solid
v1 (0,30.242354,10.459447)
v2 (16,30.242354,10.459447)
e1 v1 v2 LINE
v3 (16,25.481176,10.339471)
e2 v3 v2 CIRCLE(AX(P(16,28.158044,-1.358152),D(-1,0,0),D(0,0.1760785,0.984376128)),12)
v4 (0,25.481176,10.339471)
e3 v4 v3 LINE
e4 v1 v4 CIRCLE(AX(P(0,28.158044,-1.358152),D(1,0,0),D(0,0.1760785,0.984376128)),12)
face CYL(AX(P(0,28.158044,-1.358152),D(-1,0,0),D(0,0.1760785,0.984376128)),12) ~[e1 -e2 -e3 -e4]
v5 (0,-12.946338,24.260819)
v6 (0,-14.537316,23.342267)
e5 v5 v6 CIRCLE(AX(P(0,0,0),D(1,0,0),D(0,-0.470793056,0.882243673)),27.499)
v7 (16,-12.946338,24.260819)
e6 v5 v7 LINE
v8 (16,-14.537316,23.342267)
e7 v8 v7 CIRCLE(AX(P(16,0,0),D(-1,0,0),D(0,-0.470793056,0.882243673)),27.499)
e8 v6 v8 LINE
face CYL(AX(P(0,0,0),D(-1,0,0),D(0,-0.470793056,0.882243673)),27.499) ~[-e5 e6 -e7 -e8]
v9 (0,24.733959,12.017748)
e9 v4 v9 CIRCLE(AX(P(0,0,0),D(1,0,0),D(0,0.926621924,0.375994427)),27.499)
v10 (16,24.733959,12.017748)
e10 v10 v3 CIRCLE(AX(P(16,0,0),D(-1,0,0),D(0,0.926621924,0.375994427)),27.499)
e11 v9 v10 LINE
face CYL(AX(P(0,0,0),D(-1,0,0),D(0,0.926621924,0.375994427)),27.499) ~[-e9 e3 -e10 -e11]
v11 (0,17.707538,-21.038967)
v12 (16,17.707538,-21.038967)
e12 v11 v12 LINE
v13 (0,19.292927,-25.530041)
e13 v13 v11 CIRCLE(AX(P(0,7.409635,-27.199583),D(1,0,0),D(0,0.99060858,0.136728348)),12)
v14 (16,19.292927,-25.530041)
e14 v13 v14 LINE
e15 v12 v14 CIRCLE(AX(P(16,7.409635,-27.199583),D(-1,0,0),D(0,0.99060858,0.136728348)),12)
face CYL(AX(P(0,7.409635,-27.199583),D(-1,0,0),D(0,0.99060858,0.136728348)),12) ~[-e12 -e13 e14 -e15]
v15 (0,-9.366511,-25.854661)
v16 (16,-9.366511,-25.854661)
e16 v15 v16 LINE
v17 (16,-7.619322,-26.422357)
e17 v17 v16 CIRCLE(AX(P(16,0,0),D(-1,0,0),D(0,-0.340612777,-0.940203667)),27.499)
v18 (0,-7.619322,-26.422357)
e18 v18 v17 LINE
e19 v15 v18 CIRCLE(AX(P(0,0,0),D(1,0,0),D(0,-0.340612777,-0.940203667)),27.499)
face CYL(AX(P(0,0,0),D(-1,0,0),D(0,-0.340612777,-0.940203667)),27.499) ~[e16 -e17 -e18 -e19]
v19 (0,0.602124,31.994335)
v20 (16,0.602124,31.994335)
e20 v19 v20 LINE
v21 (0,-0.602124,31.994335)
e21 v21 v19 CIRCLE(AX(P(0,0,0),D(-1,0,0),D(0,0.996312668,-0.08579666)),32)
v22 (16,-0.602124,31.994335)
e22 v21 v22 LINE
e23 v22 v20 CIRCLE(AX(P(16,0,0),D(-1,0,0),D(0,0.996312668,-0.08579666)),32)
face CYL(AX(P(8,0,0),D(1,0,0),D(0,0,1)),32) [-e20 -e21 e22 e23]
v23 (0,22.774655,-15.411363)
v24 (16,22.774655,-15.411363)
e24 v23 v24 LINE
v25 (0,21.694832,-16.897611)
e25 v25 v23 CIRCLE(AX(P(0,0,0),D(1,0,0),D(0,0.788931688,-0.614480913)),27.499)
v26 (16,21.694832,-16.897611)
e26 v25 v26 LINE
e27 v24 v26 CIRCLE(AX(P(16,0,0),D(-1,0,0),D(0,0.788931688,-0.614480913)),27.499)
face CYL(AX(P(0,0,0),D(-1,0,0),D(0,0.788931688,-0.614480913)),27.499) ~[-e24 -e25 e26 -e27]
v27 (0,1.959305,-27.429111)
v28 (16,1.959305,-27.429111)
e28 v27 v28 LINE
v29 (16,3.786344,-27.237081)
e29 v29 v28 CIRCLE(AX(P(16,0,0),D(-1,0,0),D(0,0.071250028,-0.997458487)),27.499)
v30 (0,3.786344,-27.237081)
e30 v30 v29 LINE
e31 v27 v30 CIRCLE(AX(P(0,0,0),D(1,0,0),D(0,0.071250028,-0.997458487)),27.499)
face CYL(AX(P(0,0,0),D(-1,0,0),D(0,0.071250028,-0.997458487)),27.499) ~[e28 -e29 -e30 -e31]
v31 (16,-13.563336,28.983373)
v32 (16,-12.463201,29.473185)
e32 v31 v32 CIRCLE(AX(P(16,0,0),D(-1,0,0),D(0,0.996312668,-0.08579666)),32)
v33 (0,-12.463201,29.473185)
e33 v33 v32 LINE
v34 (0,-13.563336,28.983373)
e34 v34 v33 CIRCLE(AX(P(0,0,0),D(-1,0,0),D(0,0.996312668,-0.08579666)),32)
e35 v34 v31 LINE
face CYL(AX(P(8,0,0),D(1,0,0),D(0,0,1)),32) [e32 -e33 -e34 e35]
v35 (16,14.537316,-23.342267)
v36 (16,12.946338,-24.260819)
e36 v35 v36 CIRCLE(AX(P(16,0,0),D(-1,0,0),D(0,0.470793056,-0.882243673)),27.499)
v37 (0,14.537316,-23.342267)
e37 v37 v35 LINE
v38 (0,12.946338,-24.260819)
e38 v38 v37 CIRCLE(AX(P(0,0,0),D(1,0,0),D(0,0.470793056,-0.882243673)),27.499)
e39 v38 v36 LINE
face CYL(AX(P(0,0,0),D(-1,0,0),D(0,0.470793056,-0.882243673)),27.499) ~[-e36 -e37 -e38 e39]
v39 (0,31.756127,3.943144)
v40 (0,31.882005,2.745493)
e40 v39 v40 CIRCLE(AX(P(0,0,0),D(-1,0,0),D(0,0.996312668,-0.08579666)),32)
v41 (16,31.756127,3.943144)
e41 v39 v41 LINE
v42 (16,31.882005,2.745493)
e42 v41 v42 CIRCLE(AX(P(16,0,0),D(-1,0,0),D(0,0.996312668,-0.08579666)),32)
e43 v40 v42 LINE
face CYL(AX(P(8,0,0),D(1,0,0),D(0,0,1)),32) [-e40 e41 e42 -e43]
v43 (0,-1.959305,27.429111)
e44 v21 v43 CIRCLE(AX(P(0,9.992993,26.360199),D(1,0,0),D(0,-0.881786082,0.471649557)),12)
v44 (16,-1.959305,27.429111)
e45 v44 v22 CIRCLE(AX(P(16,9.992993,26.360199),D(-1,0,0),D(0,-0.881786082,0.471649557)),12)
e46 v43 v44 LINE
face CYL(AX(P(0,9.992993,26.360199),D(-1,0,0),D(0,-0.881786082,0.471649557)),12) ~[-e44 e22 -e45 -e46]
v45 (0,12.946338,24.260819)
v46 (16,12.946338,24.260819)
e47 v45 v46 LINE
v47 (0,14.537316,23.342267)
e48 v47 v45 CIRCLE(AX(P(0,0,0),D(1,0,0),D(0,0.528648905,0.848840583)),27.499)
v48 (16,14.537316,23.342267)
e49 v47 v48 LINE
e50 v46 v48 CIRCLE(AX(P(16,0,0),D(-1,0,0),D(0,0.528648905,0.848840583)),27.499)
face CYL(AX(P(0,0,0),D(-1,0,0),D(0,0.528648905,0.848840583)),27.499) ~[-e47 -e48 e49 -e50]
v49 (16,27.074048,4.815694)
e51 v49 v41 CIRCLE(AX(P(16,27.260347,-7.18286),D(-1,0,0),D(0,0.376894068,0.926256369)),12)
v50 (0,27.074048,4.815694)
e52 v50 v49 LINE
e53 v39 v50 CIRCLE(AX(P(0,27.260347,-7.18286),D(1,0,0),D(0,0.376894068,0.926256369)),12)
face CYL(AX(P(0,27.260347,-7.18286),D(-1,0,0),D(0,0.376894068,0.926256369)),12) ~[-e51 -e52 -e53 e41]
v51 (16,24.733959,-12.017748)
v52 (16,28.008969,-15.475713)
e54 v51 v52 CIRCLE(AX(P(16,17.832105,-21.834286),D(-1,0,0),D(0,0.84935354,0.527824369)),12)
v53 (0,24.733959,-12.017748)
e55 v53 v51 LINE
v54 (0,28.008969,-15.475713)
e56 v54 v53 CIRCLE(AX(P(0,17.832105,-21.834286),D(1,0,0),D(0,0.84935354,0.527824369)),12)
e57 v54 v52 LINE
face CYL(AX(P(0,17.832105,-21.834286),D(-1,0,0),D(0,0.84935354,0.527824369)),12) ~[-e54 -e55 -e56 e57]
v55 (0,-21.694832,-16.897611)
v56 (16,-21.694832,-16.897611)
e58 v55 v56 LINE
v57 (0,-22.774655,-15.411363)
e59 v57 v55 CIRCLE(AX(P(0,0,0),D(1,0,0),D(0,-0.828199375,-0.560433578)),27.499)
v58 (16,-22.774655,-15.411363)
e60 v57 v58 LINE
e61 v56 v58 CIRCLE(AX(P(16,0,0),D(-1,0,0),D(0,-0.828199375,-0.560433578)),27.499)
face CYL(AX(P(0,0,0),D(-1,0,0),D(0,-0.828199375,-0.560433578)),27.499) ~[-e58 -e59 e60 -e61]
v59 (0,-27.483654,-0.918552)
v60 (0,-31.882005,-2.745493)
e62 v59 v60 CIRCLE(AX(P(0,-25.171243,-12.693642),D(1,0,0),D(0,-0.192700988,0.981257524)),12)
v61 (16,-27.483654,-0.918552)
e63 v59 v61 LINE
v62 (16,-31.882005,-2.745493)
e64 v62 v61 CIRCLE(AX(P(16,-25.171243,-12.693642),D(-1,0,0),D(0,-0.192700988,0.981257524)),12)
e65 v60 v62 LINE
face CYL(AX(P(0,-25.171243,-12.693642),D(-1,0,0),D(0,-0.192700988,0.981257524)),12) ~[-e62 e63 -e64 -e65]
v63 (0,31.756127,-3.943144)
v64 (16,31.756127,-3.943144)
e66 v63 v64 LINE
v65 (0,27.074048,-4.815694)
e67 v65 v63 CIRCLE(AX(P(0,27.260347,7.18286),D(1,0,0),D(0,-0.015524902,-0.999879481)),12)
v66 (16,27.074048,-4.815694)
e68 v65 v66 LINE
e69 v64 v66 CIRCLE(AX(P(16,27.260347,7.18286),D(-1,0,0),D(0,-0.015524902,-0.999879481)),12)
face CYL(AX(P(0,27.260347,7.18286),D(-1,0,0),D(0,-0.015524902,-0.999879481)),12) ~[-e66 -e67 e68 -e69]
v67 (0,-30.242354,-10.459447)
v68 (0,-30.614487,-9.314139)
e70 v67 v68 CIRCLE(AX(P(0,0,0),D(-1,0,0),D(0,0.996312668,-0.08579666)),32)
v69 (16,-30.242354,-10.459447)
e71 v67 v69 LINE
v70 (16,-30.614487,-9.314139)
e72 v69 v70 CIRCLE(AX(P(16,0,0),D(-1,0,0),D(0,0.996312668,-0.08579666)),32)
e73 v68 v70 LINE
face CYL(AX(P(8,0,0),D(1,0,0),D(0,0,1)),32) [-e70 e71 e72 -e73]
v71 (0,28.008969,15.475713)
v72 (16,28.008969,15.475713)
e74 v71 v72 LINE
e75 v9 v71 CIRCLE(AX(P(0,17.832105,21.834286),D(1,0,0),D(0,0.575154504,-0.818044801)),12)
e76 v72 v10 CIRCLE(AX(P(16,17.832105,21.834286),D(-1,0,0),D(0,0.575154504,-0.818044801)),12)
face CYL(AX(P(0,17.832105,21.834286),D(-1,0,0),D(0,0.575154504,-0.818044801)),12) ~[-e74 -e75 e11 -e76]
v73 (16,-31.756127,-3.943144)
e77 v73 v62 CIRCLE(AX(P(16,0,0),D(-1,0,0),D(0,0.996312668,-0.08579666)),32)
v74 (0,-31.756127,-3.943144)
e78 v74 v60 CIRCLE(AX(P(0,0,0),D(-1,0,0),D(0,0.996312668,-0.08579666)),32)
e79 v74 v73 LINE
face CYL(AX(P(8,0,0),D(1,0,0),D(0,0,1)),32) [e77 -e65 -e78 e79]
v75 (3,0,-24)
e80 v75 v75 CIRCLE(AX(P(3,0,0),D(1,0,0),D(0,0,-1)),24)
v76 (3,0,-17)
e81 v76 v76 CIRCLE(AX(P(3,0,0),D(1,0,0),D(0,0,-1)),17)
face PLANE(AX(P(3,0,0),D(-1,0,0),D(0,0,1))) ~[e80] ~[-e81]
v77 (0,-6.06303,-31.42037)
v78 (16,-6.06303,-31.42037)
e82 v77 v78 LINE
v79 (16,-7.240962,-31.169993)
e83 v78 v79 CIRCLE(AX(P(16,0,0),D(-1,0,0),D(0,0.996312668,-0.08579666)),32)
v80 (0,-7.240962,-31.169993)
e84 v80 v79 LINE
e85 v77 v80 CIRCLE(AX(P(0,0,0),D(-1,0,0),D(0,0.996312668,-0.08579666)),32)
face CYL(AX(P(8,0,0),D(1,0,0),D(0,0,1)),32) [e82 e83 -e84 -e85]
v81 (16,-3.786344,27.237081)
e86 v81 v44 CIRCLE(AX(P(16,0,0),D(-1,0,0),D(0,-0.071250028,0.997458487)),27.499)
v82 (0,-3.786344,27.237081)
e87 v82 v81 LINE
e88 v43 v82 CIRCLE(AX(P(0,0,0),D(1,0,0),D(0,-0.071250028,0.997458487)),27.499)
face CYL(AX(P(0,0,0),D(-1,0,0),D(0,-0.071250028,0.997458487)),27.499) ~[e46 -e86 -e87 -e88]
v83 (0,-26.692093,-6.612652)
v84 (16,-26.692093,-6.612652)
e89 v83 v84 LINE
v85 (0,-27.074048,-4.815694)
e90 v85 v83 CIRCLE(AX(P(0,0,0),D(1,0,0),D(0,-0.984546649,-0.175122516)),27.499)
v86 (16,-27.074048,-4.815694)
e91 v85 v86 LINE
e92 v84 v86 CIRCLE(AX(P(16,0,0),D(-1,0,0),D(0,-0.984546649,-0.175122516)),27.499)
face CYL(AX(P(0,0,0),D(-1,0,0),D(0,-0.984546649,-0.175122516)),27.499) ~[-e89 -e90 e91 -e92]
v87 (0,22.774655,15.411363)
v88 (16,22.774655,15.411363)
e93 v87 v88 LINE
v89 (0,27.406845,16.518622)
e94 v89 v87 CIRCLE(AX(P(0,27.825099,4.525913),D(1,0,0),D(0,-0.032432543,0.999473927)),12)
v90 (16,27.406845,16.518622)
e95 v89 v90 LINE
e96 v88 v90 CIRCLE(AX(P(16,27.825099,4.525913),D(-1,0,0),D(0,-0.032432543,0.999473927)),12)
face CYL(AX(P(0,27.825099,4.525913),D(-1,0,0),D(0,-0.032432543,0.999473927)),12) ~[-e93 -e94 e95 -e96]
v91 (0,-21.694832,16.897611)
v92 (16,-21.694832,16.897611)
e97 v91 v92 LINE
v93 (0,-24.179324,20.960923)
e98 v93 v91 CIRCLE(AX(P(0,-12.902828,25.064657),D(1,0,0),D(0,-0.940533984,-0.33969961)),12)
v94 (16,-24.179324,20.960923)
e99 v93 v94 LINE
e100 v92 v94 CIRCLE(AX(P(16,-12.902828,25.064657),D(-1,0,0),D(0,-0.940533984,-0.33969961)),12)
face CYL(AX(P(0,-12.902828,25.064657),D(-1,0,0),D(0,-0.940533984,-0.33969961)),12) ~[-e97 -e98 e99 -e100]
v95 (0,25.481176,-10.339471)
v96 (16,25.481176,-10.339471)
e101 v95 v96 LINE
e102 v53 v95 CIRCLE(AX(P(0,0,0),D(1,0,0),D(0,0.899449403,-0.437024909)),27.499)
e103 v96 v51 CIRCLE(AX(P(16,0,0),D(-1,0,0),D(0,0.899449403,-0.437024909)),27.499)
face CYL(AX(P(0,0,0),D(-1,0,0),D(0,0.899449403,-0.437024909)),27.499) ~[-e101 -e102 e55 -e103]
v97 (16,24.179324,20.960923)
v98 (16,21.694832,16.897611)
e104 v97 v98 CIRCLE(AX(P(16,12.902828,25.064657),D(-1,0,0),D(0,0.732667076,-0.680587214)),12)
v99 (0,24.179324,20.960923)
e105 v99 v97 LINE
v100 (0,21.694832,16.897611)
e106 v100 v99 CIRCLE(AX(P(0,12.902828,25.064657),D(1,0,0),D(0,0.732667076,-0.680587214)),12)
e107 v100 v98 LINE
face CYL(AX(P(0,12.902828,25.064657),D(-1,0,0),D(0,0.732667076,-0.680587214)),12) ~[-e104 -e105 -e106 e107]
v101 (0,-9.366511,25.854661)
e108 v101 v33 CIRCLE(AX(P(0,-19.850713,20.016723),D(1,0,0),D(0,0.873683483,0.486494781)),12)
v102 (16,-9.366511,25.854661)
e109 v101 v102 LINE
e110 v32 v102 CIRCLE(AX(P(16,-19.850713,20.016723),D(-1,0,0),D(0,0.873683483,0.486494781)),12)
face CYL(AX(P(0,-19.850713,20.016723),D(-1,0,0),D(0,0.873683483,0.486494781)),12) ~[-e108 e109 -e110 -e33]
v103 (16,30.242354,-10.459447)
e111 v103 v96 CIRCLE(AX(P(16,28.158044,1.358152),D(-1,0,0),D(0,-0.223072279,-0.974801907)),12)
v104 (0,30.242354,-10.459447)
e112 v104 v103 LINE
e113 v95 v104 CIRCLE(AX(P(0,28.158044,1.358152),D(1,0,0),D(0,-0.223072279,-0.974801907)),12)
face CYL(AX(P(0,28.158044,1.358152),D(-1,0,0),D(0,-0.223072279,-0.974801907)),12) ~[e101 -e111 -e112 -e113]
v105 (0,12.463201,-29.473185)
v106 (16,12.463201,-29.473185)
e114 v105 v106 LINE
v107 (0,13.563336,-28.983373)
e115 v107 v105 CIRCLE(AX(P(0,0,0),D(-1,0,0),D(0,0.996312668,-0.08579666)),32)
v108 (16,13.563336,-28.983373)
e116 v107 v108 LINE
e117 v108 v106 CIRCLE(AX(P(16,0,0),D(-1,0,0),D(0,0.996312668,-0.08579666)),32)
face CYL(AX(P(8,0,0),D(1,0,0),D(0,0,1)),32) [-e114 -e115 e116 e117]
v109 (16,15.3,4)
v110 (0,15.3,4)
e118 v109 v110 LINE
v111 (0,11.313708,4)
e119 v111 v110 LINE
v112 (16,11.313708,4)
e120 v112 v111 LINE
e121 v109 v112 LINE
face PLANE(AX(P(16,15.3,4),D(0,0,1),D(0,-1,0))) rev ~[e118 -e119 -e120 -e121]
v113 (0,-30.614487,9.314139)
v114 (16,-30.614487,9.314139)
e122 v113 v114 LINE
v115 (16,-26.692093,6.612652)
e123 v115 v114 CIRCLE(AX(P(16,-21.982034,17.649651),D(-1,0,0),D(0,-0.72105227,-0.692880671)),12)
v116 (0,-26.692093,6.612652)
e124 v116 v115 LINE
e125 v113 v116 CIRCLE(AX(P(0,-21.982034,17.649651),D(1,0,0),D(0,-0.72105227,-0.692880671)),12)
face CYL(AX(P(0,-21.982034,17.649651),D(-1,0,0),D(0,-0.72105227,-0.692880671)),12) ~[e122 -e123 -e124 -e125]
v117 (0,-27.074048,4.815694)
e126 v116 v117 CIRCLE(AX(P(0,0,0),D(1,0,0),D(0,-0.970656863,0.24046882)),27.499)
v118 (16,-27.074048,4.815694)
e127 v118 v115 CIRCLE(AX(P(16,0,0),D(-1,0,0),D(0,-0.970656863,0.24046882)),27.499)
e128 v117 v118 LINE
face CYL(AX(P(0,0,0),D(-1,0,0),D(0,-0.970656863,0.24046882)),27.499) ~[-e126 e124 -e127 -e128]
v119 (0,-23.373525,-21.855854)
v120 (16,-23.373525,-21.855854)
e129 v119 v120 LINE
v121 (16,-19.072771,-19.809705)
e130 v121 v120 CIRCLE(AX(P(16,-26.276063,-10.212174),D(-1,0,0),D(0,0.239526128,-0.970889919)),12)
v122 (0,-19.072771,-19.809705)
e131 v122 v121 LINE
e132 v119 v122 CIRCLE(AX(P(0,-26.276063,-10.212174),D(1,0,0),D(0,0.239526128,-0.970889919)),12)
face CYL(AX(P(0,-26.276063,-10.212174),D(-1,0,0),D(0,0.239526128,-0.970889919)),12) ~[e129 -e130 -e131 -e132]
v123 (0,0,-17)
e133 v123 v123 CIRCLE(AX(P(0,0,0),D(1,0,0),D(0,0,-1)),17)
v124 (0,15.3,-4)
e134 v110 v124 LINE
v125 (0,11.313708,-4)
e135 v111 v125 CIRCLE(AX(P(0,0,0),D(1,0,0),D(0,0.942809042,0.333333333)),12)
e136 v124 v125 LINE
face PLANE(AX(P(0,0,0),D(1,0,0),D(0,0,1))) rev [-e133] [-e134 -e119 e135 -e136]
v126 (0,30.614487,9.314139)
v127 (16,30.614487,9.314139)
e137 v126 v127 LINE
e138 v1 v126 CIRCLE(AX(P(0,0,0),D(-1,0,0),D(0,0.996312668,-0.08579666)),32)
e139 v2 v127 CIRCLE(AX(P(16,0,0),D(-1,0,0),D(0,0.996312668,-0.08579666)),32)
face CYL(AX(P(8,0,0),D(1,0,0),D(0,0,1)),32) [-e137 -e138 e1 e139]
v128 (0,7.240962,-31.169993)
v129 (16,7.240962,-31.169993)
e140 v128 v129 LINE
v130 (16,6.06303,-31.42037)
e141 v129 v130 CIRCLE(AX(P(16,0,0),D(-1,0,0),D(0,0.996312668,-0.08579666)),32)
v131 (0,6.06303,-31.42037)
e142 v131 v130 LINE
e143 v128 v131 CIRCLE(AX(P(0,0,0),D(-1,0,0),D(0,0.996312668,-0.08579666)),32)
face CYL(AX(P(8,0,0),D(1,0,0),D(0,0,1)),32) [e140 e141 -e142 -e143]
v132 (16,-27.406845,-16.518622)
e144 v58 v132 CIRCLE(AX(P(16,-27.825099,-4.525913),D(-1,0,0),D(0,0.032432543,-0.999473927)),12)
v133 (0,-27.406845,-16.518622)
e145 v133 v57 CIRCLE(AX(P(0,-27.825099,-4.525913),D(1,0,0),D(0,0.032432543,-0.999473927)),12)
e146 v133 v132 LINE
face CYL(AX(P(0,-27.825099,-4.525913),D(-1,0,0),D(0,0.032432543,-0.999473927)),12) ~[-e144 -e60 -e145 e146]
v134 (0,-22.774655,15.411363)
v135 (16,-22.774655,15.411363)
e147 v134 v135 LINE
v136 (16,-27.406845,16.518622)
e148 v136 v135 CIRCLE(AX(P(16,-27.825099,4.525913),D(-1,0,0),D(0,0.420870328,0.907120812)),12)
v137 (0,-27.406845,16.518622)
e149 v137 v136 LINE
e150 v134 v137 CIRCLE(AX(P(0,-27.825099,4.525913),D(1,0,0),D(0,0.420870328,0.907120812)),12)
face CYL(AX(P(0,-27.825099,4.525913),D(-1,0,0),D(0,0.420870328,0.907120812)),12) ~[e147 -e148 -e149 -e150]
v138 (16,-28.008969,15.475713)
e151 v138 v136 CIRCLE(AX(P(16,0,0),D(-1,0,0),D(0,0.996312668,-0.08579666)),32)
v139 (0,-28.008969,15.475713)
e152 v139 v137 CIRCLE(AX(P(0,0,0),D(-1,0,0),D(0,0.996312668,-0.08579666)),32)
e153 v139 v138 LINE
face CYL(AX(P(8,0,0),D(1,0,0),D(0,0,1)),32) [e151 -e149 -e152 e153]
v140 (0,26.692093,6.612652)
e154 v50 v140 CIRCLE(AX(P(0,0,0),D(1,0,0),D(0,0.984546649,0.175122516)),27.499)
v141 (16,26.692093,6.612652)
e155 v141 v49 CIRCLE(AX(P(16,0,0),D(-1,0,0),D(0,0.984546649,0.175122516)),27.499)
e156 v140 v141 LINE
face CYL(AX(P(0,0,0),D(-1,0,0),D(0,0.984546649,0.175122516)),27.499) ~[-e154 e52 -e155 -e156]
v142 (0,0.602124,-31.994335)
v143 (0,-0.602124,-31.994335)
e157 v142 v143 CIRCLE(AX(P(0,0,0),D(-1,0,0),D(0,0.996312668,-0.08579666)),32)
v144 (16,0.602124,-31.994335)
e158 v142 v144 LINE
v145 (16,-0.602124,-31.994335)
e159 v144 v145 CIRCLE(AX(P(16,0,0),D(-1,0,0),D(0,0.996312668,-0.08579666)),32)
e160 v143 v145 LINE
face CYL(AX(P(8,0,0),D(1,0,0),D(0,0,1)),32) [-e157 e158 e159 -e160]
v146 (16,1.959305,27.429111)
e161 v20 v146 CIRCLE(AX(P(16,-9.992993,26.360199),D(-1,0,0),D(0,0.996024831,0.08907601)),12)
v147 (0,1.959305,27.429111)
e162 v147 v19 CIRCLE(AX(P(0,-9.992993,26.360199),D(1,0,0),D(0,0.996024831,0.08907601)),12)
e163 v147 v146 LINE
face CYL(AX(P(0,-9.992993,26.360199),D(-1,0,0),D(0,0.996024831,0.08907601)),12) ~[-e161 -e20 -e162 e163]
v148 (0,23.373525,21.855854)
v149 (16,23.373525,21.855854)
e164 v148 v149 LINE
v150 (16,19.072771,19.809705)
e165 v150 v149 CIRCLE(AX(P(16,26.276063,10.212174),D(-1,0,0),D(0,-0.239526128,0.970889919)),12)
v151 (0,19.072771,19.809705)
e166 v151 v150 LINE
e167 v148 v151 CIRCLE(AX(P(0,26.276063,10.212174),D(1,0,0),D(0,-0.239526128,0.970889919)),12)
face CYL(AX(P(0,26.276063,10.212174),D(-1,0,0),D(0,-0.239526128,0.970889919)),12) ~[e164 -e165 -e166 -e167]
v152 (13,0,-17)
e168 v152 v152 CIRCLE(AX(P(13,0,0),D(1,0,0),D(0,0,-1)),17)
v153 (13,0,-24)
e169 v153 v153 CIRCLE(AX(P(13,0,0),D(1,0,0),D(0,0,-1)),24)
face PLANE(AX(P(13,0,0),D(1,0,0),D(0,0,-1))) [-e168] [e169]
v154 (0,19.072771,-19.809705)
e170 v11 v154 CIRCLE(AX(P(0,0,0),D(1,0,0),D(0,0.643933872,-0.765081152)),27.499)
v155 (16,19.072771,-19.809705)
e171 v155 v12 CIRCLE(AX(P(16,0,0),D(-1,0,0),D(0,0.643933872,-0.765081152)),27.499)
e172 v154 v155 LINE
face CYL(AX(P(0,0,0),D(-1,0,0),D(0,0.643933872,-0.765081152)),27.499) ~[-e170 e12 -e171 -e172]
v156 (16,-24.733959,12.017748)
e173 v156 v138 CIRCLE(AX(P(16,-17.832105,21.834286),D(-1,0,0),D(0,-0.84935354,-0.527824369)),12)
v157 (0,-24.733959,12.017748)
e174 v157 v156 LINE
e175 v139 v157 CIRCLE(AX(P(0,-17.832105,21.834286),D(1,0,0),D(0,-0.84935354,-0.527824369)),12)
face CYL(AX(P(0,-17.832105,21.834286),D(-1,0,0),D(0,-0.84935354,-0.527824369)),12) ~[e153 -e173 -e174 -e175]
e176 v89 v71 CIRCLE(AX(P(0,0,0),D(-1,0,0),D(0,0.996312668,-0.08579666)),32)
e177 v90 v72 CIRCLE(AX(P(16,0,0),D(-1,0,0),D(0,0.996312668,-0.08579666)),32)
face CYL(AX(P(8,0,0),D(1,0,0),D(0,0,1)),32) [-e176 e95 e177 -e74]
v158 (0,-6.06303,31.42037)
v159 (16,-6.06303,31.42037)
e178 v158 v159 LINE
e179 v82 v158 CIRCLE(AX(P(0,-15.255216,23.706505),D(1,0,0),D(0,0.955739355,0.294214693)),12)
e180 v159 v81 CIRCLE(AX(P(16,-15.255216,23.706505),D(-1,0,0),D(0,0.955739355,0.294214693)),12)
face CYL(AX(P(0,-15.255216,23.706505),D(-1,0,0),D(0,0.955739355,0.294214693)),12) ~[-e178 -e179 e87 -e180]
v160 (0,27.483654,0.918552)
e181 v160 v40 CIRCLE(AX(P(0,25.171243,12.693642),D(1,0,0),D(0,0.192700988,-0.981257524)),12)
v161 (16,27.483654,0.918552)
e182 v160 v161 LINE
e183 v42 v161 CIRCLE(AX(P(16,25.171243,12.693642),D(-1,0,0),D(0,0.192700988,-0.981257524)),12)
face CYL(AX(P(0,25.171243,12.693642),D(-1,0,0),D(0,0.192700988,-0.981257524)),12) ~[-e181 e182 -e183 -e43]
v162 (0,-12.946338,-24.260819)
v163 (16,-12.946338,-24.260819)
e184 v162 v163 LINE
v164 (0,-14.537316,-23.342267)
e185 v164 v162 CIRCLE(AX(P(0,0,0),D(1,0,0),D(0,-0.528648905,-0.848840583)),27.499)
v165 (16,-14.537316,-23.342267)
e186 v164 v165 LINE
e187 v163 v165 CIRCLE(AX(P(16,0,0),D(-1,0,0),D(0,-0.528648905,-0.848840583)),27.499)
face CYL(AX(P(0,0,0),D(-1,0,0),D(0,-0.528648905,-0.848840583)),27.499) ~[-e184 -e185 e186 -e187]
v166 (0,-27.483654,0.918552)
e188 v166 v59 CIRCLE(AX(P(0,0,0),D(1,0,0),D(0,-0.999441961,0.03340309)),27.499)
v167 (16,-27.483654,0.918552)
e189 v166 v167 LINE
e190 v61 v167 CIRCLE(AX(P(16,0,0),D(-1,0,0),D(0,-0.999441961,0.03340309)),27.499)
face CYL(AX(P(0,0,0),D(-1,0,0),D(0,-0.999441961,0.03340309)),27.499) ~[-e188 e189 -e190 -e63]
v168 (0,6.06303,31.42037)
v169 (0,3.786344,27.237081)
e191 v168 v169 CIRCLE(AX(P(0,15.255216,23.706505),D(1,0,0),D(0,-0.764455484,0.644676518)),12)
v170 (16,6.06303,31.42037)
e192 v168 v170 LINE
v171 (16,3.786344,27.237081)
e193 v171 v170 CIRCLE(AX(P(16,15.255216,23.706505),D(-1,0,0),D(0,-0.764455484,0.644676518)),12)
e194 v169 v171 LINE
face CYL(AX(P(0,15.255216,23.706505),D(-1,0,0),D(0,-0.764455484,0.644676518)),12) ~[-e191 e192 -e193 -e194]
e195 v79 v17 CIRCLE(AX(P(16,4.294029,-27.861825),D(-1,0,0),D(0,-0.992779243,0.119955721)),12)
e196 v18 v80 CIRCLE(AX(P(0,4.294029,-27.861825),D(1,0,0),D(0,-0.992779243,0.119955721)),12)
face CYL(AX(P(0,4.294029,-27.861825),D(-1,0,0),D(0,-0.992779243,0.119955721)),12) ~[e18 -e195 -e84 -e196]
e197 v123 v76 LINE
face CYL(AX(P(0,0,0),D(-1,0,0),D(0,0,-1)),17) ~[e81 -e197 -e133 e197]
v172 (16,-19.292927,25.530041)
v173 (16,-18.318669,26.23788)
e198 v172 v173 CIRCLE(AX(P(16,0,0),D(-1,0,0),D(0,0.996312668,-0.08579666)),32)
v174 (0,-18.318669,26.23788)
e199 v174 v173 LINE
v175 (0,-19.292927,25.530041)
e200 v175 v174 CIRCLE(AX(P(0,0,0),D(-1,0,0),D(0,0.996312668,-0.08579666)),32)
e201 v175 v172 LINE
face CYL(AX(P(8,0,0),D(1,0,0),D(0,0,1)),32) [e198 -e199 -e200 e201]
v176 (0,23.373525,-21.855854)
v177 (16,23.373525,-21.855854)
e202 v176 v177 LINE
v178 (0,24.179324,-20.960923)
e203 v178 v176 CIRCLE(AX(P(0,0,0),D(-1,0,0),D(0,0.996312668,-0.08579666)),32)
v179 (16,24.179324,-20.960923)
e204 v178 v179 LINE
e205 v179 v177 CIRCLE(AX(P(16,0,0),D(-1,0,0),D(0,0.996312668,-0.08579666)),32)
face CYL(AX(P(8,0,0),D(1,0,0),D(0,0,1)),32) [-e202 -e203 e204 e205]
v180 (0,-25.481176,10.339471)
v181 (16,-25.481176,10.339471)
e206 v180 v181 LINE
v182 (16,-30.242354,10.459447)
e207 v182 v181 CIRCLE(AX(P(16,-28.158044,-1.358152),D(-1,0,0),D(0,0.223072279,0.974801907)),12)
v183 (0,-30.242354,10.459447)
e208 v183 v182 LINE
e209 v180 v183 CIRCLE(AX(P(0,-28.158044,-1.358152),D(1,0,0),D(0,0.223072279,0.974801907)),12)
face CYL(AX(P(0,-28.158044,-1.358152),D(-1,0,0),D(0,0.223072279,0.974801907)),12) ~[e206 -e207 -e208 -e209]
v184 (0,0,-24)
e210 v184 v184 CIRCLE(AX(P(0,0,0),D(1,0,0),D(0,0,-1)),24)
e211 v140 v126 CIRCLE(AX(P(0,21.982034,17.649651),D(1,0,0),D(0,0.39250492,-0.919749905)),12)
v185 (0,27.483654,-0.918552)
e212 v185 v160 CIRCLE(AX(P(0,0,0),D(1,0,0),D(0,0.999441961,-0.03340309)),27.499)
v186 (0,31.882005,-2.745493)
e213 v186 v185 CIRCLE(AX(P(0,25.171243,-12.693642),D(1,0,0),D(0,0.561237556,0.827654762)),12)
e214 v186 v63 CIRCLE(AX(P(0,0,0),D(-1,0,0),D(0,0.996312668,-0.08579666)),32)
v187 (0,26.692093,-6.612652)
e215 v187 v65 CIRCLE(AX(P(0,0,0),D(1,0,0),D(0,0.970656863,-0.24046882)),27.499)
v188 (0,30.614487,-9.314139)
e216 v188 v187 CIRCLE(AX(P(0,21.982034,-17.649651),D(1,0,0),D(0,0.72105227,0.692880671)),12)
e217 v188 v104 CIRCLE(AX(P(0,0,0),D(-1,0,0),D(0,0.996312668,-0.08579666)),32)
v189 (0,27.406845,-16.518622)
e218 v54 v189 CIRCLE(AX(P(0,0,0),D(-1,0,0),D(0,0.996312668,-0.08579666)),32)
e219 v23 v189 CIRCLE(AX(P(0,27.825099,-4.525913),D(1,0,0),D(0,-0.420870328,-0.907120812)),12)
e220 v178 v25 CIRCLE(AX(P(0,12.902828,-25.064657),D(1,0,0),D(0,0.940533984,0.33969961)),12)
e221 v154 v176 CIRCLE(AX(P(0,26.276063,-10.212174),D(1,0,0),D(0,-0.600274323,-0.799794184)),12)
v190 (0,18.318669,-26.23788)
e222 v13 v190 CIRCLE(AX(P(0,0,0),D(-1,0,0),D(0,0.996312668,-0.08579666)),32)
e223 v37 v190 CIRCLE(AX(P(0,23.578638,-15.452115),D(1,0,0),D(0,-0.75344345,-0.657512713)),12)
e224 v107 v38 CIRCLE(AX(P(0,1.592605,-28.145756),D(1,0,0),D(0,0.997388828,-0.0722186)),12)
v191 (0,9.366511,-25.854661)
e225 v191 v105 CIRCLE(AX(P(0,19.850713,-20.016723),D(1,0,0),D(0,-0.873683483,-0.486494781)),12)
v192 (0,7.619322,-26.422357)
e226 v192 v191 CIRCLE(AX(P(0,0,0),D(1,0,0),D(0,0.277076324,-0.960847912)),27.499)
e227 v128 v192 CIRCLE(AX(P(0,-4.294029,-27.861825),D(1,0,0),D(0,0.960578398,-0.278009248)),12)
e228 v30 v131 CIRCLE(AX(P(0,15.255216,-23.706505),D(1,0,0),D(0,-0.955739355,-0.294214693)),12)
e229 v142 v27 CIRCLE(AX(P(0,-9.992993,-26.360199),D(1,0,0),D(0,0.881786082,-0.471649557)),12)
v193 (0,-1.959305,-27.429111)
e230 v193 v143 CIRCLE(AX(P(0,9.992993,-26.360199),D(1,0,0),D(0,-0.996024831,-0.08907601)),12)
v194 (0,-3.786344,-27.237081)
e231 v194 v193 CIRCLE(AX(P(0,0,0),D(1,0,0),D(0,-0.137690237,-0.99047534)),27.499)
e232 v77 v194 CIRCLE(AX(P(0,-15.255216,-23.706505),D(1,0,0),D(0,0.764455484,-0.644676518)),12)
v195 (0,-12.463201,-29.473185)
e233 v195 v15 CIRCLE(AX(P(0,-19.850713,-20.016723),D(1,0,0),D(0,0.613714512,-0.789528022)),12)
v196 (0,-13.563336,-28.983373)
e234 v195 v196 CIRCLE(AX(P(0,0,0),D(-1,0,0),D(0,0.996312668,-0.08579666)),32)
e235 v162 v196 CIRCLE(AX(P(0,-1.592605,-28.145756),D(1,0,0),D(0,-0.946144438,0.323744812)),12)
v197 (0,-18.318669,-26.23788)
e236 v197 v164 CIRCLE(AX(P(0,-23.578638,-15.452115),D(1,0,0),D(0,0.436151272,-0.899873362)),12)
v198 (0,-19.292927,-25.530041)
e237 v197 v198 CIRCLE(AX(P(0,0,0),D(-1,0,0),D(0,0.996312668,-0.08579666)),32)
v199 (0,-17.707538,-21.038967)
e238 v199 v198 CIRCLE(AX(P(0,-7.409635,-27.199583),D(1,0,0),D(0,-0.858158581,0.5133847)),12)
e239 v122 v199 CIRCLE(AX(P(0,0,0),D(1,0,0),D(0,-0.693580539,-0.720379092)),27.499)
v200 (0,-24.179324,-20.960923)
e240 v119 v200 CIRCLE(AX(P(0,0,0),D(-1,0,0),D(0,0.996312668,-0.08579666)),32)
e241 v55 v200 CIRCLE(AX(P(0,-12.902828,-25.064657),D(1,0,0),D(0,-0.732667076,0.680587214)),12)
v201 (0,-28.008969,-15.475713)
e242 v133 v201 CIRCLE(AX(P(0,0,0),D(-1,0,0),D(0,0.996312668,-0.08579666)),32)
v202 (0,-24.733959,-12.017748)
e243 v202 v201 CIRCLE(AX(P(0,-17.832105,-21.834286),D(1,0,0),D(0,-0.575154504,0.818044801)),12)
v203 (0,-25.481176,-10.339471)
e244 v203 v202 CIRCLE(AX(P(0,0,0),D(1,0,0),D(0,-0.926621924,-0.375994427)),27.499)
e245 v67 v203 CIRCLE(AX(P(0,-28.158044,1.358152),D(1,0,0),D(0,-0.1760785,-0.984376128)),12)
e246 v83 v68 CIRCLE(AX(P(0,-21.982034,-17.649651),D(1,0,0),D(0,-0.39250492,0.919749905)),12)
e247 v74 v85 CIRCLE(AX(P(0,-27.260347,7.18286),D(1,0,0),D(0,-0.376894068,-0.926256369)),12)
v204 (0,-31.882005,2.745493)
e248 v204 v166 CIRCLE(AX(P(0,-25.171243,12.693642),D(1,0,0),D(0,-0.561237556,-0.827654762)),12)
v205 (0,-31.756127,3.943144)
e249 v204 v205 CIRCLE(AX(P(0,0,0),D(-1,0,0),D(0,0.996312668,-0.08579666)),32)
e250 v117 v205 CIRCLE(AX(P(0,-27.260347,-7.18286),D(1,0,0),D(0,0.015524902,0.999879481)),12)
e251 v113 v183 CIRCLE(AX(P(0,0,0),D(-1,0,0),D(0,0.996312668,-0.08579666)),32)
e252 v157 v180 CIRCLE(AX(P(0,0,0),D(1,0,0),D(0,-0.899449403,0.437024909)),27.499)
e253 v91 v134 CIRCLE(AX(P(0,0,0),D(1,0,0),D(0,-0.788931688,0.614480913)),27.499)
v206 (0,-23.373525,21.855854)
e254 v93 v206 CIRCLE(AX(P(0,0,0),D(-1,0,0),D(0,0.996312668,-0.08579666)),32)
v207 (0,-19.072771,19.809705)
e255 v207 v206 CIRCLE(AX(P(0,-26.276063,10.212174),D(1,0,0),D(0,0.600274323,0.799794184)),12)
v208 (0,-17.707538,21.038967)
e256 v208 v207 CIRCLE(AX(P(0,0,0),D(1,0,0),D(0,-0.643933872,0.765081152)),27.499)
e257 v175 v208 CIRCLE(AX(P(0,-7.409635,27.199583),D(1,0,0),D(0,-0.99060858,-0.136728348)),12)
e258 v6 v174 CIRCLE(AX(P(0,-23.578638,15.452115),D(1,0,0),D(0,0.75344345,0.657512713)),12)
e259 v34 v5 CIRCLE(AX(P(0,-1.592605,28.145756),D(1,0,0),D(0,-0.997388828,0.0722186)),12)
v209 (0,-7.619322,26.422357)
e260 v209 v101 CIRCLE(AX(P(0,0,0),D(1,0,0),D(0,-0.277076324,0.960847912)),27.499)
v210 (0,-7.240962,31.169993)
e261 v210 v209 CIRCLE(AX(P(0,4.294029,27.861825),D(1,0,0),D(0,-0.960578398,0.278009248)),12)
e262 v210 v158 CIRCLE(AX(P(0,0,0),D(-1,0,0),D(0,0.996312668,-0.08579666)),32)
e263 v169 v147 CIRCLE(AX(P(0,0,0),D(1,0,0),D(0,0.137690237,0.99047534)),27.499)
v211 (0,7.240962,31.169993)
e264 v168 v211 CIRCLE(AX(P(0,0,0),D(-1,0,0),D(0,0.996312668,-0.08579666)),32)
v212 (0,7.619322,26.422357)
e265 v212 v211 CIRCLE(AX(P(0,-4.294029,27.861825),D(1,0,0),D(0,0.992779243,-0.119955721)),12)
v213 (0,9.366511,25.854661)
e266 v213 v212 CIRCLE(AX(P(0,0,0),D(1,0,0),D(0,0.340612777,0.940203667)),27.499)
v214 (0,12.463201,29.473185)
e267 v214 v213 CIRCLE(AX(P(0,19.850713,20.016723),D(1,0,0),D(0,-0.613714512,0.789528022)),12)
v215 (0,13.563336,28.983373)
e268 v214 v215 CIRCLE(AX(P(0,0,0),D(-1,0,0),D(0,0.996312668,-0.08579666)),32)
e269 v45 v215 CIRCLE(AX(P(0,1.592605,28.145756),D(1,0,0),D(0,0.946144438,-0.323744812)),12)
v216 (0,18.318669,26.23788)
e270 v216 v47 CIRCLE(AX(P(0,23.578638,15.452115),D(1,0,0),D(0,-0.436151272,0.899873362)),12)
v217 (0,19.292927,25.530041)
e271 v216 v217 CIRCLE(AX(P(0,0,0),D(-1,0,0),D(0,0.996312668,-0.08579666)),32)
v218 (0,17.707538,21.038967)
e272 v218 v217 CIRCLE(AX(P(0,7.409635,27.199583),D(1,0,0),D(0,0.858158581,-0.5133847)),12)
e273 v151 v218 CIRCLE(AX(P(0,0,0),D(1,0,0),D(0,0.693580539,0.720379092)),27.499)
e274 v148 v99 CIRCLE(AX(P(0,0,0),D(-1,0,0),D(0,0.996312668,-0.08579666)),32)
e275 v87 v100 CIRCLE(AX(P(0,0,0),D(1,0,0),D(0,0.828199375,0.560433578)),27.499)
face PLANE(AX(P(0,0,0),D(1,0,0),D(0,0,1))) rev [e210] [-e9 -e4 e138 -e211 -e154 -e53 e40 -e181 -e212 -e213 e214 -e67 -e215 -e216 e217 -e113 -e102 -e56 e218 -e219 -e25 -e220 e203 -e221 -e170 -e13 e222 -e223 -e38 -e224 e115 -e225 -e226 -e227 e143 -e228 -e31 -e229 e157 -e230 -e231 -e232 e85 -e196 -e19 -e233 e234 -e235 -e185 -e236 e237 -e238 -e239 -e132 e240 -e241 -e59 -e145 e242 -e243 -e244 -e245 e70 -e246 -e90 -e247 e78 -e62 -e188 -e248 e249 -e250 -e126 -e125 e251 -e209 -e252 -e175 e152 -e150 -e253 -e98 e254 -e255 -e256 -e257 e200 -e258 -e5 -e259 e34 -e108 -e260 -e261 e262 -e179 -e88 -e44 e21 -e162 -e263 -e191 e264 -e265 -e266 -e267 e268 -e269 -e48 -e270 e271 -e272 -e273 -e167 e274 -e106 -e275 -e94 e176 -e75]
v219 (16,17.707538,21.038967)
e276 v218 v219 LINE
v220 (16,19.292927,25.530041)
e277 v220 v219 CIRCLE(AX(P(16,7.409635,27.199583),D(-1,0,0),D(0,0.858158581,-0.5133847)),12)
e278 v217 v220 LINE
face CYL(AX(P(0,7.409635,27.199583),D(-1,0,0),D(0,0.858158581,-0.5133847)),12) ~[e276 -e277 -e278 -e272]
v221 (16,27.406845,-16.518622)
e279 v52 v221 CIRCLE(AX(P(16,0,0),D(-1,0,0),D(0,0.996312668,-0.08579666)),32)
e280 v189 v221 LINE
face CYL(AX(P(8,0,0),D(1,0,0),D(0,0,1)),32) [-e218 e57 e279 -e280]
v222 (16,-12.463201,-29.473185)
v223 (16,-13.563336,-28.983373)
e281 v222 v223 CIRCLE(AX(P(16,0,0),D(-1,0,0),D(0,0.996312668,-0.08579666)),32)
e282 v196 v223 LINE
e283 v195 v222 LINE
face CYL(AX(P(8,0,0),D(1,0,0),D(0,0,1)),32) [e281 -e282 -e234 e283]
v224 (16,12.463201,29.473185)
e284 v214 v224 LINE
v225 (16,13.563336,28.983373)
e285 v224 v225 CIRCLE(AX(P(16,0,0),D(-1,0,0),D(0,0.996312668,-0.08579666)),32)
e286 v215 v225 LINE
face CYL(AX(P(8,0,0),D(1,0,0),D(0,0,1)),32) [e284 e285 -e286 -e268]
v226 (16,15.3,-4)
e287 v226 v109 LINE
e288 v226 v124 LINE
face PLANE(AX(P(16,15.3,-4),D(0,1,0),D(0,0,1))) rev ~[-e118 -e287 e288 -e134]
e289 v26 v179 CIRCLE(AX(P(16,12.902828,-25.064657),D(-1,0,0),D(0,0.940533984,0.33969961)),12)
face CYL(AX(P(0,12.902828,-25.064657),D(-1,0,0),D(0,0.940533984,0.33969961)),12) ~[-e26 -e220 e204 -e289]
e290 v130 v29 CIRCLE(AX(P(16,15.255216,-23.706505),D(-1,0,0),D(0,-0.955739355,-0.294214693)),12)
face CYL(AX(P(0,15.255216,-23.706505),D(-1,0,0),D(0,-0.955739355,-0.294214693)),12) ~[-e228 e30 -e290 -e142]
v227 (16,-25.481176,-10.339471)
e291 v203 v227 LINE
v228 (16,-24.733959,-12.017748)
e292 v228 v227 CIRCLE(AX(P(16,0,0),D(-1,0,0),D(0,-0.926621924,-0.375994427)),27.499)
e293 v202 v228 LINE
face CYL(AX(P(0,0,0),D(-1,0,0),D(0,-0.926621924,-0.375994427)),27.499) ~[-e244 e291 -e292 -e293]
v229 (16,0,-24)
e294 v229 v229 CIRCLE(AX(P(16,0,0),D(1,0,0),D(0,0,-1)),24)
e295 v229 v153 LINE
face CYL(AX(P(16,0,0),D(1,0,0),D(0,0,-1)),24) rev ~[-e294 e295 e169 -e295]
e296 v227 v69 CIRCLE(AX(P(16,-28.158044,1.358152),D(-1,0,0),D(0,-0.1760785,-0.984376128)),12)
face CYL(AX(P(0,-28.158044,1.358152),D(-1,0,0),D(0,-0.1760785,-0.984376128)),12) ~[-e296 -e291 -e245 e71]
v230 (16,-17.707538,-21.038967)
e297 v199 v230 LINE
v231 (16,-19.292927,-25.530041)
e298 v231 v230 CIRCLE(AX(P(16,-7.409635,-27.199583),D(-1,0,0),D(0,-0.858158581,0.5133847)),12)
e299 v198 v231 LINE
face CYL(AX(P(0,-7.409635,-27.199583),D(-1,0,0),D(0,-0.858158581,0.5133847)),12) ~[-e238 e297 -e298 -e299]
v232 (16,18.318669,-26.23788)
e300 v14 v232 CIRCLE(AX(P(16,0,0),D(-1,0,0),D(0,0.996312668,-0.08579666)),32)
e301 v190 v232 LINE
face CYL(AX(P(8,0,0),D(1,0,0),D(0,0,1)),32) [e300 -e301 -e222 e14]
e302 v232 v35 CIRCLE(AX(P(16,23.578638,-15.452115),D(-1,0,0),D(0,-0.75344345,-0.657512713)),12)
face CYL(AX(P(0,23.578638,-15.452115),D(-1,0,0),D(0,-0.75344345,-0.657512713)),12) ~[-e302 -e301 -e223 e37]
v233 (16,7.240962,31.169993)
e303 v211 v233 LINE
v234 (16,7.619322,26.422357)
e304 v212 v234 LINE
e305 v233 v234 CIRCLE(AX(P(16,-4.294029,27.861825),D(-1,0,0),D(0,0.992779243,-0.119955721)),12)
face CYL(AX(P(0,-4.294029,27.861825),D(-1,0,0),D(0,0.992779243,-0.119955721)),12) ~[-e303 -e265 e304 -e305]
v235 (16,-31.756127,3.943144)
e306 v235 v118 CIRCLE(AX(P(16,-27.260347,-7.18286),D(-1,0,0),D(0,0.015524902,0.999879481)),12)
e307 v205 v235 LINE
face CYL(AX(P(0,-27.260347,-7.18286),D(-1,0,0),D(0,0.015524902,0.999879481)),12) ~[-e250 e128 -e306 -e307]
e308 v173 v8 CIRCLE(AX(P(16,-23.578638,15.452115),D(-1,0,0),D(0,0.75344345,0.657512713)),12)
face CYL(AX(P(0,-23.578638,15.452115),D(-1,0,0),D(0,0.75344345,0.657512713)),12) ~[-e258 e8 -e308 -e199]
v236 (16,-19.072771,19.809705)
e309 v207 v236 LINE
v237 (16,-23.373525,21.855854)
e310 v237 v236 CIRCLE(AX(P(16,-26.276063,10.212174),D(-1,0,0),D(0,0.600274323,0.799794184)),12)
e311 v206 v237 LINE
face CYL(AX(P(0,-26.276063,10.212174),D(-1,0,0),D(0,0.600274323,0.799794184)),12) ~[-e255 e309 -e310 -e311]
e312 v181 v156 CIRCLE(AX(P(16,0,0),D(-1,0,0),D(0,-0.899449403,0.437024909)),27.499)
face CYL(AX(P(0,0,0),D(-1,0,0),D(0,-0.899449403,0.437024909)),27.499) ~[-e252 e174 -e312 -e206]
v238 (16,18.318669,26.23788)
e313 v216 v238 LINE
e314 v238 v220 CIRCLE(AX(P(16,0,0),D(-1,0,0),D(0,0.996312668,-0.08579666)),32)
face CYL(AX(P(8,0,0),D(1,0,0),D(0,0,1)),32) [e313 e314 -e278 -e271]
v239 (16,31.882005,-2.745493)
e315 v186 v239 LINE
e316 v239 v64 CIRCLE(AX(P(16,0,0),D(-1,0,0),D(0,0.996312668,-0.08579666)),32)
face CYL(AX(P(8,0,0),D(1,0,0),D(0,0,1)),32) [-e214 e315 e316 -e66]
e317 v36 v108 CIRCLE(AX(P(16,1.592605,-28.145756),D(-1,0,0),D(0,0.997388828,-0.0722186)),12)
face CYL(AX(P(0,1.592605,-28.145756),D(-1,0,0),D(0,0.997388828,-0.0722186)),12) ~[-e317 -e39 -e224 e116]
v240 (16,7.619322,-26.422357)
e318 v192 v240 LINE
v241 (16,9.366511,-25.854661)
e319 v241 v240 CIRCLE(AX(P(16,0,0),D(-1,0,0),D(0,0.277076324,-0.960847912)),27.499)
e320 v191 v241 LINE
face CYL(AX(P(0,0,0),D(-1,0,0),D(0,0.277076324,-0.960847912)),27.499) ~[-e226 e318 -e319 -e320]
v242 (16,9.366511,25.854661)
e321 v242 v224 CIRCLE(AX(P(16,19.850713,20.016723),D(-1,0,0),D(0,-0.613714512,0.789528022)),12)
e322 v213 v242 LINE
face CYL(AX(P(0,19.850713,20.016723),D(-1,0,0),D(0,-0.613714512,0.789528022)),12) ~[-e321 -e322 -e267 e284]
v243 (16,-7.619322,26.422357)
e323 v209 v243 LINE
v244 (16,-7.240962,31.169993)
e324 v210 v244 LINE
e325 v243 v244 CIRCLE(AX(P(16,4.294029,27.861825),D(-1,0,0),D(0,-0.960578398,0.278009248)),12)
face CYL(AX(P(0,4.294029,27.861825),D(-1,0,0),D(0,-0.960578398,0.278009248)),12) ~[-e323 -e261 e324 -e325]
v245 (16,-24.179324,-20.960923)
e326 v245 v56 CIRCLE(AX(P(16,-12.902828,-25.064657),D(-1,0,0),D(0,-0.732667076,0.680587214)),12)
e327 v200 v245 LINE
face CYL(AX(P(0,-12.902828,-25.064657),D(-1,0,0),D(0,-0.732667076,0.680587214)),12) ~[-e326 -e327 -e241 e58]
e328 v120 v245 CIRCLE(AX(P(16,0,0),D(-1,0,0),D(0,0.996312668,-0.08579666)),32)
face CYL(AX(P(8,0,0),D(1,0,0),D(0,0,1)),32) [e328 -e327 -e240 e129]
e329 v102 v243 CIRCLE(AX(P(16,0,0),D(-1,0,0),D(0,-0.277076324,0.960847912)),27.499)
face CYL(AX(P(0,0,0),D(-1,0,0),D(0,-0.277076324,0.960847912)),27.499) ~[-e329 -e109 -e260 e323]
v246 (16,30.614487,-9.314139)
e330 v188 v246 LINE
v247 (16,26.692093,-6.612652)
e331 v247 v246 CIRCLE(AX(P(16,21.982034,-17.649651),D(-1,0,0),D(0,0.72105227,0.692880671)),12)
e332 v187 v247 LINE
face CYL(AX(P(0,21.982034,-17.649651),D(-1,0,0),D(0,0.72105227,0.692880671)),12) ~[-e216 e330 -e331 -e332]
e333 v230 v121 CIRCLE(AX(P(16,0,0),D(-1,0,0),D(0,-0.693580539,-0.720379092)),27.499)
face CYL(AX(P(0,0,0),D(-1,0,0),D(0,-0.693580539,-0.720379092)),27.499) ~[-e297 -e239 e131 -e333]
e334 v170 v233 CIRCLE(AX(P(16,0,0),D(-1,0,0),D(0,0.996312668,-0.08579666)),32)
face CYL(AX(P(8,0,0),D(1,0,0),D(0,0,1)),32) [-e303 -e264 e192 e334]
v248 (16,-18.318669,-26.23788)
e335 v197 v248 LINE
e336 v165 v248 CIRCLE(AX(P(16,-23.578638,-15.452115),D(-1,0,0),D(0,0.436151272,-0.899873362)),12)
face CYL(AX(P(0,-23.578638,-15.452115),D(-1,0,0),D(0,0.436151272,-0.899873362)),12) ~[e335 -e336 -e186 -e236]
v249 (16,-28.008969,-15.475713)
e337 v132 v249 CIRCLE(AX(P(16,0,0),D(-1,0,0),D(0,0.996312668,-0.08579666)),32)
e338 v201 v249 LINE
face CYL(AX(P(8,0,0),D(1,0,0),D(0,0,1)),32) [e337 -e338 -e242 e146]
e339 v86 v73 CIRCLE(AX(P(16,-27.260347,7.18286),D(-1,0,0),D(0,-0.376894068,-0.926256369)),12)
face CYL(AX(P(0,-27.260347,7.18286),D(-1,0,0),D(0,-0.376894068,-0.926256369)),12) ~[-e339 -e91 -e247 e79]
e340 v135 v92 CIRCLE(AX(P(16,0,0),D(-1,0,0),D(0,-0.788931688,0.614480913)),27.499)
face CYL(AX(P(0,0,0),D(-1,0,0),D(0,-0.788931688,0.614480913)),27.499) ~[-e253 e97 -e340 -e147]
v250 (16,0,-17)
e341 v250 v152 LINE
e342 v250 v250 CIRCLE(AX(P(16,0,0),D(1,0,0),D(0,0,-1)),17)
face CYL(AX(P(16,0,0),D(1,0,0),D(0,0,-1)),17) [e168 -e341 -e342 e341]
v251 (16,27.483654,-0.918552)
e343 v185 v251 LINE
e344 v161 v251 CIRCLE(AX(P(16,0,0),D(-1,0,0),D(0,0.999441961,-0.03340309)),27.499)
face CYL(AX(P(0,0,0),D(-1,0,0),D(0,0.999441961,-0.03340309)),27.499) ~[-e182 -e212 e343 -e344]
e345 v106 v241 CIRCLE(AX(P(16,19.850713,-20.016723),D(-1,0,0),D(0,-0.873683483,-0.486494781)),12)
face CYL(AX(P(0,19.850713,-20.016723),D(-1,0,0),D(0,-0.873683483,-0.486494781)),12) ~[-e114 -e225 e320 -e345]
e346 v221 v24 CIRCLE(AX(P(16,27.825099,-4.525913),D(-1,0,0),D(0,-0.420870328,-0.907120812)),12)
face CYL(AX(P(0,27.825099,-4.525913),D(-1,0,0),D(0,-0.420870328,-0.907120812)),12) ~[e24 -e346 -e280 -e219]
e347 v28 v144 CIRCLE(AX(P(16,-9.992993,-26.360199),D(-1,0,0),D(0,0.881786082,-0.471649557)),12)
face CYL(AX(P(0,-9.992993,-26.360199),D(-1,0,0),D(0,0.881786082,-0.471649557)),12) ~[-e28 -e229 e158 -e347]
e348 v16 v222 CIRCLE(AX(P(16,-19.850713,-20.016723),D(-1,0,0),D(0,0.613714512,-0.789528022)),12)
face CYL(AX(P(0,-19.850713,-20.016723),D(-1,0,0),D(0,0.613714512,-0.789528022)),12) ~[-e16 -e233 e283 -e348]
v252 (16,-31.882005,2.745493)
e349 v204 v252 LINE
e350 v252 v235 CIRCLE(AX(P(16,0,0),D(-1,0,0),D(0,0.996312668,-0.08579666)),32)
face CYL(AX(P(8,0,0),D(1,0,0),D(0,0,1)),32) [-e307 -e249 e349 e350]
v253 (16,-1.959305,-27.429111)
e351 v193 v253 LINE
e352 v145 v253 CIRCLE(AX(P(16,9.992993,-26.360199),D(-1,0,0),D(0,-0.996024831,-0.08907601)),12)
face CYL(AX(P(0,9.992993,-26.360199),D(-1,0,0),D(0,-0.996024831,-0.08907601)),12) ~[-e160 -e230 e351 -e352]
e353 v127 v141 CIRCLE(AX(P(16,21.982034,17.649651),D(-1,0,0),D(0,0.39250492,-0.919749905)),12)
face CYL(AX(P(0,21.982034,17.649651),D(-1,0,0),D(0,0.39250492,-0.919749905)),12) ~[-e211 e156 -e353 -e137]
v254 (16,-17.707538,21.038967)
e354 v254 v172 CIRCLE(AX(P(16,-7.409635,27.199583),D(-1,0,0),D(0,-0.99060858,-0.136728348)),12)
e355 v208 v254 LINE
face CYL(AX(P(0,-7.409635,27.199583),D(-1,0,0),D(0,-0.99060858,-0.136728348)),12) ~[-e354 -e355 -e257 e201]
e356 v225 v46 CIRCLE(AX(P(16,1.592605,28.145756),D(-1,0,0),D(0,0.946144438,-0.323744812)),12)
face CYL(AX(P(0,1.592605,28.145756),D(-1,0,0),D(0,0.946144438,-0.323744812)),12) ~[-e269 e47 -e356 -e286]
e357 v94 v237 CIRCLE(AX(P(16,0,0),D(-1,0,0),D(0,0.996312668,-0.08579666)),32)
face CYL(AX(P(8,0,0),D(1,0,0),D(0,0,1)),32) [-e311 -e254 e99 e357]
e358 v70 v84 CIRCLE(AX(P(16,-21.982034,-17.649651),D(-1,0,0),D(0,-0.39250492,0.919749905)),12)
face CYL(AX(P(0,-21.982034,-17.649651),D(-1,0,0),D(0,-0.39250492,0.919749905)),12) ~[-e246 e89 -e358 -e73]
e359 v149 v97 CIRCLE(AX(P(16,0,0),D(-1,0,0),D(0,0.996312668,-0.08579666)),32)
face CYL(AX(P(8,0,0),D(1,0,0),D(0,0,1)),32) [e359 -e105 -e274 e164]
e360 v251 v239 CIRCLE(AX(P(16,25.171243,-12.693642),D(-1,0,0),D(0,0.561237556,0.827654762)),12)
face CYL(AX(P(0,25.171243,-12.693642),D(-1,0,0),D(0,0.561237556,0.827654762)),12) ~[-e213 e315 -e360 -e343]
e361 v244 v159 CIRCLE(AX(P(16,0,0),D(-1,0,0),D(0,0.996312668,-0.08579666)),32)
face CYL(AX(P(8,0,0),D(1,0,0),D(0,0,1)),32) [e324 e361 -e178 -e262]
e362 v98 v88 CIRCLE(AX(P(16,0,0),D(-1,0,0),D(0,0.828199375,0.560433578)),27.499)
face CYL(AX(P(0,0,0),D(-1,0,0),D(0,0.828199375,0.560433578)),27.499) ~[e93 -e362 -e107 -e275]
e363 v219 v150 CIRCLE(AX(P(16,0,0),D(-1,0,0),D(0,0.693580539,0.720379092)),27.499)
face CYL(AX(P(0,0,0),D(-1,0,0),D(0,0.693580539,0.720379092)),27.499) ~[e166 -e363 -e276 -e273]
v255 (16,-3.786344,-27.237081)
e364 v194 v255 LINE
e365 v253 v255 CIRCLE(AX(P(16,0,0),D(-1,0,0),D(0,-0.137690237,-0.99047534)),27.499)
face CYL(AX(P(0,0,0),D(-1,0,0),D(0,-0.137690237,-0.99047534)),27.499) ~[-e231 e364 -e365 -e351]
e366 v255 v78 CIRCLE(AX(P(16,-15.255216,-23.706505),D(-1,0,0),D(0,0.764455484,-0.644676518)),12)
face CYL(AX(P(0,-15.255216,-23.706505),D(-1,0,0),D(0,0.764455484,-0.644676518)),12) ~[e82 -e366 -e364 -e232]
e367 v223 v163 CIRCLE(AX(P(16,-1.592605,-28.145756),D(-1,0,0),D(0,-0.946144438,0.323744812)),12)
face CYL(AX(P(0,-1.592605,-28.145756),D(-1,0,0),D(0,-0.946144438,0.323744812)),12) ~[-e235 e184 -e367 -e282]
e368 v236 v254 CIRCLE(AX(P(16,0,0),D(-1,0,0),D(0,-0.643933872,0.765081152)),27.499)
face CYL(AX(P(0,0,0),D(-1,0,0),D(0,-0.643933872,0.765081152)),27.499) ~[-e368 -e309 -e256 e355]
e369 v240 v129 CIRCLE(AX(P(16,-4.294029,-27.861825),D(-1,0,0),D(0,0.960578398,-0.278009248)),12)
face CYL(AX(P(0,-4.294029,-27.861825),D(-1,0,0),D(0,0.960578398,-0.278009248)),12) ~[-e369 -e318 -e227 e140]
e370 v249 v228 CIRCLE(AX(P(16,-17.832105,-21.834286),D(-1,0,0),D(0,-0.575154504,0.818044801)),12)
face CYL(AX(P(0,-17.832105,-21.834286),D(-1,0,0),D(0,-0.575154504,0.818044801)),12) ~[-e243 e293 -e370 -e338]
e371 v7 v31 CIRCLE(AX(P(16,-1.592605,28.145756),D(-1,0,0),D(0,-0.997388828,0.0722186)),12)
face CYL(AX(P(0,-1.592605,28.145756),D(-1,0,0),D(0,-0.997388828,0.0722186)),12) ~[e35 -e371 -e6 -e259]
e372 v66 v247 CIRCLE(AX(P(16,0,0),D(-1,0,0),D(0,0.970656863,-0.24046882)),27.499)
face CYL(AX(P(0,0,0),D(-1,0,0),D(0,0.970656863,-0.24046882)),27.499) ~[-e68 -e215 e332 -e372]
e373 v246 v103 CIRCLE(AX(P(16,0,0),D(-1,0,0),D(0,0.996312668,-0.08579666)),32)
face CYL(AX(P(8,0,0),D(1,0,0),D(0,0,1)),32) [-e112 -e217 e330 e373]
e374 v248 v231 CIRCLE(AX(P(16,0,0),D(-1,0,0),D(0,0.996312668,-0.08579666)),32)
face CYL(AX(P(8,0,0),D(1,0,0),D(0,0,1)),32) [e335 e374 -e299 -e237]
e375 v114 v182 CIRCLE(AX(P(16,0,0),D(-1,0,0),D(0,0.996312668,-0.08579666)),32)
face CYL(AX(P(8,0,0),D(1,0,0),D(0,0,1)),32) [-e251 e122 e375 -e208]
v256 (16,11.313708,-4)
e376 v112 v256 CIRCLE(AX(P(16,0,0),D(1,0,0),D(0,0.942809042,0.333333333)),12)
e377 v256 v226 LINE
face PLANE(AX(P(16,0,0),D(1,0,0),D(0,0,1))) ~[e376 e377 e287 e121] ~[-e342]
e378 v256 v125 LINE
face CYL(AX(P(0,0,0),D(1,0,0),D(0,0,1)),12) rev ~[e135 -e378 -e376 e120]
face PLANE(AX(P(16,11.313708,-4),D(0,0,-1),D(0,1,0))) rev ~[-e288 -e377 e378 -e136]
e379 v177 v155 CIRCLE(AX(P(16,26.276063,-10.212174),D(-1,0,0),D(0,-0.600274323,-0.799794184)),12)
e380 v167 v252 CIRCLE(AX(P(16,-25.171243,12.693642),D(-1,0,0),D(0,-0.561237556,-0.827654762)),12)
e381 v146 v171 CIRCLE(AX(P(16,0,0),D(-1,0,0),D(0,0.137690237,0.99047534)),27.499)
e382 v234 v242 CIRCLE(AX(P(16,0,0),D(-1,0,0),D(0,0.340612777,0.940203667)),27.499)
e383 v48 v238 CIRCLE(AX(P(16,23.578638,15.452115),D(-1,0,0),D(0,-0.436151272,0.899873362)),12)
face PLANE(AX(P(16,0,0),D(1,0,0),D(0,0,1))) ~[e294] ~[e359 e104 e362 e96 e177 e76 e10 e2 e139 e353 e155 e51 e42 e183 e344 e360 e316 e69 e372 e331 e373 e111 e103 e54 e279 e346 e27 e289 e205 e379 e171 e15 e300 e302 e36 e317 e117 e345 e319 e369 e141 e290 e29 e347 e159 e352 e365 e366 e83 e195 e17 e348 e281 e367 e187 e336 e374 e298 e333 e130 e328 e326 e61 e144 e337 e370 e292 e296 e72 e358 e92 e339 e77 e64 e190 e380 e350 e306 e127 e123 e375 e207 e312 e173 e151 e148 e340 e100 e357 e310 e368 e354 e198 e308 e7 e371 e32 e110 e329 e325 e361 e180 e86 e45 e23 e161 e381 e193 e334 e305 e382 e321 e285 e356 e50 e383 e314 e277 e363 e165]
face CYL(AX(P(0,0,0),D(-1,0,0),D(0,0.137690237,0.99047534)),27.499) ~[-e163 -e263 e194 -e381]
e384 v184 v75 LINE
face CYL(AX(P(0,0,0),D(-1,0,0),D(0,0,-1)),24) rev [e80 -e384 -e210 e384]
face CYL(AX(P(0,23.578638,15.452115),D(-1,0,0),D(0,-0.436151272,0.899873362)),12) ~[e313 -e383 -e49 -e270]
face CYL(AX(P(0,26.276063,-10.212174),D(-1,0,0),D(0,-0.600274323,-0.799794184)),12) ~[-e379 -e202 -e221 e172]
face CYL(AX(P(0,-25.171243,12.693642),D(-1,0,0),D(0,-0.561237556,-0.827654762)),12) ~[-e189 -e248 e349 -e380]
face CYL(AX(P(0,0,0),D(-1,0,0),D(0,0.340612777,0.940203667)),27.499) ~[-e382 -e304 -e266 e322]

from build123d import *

# Parameters (mm, degrees)
BASPROSKE_W              = 16
BASPROSKE_H              = 32
TOOTHCUT_DEPTH           = 49
TEETHCUTS_COUNT          = 30
TEETHCUTS_ANGLE          = 348
BORSKE_R                 = 12
BORE_DEPTH               = 50.0000508
SCHIZZO1_R               = 24
SCHIZZO1_R_2             = 17
TAGLIO_ESTRUSIONE1_DEPTH = 3
TAGLIO_ESTRUSIONE2_DEPTH = 48.921417629


with BuildPart() as part:
    # BasProSke → Base-Revolve (revolve)
    with BuildSketch(Plane(origin=(0, 0, 0), x_dir=(1, 0, 0), z_dir=(0, 1, 0)), mode=Mode.PRIVATE) as base_revolve_sk:
        with Locations((8, 16)):
            Rectangle(BASPROSKE_W, BASPROSKE_H)
    revolve(base_revolve_sk.sketch.rotate(Axis((-10, 0, 0), (1, 0, 0)), 180), axis=Axis((-10, 0, 0), (1, 0, 0)))

    # TooCutSke → ToothCut (cut, through all)
    with BuildSketch(Plane(origin=(0, 0, 0), x_dir=(0, 0, -1), z_dir=(1, 0, 0))):
        with BuildLine():
            ThreePointArc((0.918551563, 27.483654488), (0, 27.499), (-0.918551563, 27.483654488))
            ThreePointArc((-0.918551563, 27.483654488), (-1.617208176, 29.787801627), (-2.761784709, 31.906093311))
            ThreePointArc((-2.761784709, 31.906093311), (0, 32.0254), (2.761784709, 31.906093311))
            ThreePointArc((2.761784709, 31.906093311), (1.617208176, 29.787801627), (0.918551563, 27.483654488))
        make_face()
    toothcut = extrude(amount=TOOTHCUT_DEPTH, mode=Mode.SUBTRACT)

    # TeethCuts: ToothCut ×30 about axis
    teethcuts_axis = Axis((-10, 0, 0), (1, 0, 0))
    for i in range(1, TEETHCUTS_COUNT):
        add(toothcut.rotate(teethcuts_axis, i * TEETHCUTS_ANGLE / (TEETHCUTS_COUNT - 1)), mode=Mode.SUBTRACT)

    # BorSke → Bore (cut, symmetric)
    with BuildSketch(Plane(origin=(0, 0, 0), x_dir=(0, 0, -1), z_dir=(1, 0, 0))):
        with Locations(Location((0, 0, 0), (0, 0, 180))):
            Circle(BORSKE_R)
    extrude(amount=BORE_DEPTH, both=True, mode=Mode.SUBTRACT)

    # Schizzo1 → Taglio-Estrusione1 (cut)
    with BuildSketch(Plane(origin=(16, 0, 0), x_dir=(0, 0, -1), z_dir=(1, 0, 0))):
        Circle(SCHIZZO1_R)
        Circle(SCHIZZO1_R_2, mode=Mode.SUBTRACT)
    taglio_estrusione1 = extrude(amount=-TAGLIO_ESTRUSIONE1_DEPTH, mode=Mode.SUBTRACT)

    # Specchia1: Taglio-Estrusione1 across plane
    add(taglio_estrusione1.mirror(Plane(origin=(8, 0, 0), x_dir=(0, 0, 1), z_dir=(1, 0, 0))), mode=Mode.SUBTRACT)

    # Schizzo2 → Taglio-Estrusione2 (cut, through all)
    with BuildSketch(Plane(origin=(16, 0, 0), x_dir=(0, 0, -1), z_dir=(1, 0, 0))):
        with BuildLine():
            Line((4, 15.3), (-4, 15.3))
            Line((-4, 15.3), (-4, 11.313708499))
            ThreePointArc((-4, 11.313708499), (0, 12), (4, 11.313708499))
            Line((4, 11.313708499), (4, 15.3))
        make_face()
    extrude(amount=-TAGLIO_ESTRUSIONE2_DEPTH, mode=Mode.SUBTRACT)


solid = part.part
